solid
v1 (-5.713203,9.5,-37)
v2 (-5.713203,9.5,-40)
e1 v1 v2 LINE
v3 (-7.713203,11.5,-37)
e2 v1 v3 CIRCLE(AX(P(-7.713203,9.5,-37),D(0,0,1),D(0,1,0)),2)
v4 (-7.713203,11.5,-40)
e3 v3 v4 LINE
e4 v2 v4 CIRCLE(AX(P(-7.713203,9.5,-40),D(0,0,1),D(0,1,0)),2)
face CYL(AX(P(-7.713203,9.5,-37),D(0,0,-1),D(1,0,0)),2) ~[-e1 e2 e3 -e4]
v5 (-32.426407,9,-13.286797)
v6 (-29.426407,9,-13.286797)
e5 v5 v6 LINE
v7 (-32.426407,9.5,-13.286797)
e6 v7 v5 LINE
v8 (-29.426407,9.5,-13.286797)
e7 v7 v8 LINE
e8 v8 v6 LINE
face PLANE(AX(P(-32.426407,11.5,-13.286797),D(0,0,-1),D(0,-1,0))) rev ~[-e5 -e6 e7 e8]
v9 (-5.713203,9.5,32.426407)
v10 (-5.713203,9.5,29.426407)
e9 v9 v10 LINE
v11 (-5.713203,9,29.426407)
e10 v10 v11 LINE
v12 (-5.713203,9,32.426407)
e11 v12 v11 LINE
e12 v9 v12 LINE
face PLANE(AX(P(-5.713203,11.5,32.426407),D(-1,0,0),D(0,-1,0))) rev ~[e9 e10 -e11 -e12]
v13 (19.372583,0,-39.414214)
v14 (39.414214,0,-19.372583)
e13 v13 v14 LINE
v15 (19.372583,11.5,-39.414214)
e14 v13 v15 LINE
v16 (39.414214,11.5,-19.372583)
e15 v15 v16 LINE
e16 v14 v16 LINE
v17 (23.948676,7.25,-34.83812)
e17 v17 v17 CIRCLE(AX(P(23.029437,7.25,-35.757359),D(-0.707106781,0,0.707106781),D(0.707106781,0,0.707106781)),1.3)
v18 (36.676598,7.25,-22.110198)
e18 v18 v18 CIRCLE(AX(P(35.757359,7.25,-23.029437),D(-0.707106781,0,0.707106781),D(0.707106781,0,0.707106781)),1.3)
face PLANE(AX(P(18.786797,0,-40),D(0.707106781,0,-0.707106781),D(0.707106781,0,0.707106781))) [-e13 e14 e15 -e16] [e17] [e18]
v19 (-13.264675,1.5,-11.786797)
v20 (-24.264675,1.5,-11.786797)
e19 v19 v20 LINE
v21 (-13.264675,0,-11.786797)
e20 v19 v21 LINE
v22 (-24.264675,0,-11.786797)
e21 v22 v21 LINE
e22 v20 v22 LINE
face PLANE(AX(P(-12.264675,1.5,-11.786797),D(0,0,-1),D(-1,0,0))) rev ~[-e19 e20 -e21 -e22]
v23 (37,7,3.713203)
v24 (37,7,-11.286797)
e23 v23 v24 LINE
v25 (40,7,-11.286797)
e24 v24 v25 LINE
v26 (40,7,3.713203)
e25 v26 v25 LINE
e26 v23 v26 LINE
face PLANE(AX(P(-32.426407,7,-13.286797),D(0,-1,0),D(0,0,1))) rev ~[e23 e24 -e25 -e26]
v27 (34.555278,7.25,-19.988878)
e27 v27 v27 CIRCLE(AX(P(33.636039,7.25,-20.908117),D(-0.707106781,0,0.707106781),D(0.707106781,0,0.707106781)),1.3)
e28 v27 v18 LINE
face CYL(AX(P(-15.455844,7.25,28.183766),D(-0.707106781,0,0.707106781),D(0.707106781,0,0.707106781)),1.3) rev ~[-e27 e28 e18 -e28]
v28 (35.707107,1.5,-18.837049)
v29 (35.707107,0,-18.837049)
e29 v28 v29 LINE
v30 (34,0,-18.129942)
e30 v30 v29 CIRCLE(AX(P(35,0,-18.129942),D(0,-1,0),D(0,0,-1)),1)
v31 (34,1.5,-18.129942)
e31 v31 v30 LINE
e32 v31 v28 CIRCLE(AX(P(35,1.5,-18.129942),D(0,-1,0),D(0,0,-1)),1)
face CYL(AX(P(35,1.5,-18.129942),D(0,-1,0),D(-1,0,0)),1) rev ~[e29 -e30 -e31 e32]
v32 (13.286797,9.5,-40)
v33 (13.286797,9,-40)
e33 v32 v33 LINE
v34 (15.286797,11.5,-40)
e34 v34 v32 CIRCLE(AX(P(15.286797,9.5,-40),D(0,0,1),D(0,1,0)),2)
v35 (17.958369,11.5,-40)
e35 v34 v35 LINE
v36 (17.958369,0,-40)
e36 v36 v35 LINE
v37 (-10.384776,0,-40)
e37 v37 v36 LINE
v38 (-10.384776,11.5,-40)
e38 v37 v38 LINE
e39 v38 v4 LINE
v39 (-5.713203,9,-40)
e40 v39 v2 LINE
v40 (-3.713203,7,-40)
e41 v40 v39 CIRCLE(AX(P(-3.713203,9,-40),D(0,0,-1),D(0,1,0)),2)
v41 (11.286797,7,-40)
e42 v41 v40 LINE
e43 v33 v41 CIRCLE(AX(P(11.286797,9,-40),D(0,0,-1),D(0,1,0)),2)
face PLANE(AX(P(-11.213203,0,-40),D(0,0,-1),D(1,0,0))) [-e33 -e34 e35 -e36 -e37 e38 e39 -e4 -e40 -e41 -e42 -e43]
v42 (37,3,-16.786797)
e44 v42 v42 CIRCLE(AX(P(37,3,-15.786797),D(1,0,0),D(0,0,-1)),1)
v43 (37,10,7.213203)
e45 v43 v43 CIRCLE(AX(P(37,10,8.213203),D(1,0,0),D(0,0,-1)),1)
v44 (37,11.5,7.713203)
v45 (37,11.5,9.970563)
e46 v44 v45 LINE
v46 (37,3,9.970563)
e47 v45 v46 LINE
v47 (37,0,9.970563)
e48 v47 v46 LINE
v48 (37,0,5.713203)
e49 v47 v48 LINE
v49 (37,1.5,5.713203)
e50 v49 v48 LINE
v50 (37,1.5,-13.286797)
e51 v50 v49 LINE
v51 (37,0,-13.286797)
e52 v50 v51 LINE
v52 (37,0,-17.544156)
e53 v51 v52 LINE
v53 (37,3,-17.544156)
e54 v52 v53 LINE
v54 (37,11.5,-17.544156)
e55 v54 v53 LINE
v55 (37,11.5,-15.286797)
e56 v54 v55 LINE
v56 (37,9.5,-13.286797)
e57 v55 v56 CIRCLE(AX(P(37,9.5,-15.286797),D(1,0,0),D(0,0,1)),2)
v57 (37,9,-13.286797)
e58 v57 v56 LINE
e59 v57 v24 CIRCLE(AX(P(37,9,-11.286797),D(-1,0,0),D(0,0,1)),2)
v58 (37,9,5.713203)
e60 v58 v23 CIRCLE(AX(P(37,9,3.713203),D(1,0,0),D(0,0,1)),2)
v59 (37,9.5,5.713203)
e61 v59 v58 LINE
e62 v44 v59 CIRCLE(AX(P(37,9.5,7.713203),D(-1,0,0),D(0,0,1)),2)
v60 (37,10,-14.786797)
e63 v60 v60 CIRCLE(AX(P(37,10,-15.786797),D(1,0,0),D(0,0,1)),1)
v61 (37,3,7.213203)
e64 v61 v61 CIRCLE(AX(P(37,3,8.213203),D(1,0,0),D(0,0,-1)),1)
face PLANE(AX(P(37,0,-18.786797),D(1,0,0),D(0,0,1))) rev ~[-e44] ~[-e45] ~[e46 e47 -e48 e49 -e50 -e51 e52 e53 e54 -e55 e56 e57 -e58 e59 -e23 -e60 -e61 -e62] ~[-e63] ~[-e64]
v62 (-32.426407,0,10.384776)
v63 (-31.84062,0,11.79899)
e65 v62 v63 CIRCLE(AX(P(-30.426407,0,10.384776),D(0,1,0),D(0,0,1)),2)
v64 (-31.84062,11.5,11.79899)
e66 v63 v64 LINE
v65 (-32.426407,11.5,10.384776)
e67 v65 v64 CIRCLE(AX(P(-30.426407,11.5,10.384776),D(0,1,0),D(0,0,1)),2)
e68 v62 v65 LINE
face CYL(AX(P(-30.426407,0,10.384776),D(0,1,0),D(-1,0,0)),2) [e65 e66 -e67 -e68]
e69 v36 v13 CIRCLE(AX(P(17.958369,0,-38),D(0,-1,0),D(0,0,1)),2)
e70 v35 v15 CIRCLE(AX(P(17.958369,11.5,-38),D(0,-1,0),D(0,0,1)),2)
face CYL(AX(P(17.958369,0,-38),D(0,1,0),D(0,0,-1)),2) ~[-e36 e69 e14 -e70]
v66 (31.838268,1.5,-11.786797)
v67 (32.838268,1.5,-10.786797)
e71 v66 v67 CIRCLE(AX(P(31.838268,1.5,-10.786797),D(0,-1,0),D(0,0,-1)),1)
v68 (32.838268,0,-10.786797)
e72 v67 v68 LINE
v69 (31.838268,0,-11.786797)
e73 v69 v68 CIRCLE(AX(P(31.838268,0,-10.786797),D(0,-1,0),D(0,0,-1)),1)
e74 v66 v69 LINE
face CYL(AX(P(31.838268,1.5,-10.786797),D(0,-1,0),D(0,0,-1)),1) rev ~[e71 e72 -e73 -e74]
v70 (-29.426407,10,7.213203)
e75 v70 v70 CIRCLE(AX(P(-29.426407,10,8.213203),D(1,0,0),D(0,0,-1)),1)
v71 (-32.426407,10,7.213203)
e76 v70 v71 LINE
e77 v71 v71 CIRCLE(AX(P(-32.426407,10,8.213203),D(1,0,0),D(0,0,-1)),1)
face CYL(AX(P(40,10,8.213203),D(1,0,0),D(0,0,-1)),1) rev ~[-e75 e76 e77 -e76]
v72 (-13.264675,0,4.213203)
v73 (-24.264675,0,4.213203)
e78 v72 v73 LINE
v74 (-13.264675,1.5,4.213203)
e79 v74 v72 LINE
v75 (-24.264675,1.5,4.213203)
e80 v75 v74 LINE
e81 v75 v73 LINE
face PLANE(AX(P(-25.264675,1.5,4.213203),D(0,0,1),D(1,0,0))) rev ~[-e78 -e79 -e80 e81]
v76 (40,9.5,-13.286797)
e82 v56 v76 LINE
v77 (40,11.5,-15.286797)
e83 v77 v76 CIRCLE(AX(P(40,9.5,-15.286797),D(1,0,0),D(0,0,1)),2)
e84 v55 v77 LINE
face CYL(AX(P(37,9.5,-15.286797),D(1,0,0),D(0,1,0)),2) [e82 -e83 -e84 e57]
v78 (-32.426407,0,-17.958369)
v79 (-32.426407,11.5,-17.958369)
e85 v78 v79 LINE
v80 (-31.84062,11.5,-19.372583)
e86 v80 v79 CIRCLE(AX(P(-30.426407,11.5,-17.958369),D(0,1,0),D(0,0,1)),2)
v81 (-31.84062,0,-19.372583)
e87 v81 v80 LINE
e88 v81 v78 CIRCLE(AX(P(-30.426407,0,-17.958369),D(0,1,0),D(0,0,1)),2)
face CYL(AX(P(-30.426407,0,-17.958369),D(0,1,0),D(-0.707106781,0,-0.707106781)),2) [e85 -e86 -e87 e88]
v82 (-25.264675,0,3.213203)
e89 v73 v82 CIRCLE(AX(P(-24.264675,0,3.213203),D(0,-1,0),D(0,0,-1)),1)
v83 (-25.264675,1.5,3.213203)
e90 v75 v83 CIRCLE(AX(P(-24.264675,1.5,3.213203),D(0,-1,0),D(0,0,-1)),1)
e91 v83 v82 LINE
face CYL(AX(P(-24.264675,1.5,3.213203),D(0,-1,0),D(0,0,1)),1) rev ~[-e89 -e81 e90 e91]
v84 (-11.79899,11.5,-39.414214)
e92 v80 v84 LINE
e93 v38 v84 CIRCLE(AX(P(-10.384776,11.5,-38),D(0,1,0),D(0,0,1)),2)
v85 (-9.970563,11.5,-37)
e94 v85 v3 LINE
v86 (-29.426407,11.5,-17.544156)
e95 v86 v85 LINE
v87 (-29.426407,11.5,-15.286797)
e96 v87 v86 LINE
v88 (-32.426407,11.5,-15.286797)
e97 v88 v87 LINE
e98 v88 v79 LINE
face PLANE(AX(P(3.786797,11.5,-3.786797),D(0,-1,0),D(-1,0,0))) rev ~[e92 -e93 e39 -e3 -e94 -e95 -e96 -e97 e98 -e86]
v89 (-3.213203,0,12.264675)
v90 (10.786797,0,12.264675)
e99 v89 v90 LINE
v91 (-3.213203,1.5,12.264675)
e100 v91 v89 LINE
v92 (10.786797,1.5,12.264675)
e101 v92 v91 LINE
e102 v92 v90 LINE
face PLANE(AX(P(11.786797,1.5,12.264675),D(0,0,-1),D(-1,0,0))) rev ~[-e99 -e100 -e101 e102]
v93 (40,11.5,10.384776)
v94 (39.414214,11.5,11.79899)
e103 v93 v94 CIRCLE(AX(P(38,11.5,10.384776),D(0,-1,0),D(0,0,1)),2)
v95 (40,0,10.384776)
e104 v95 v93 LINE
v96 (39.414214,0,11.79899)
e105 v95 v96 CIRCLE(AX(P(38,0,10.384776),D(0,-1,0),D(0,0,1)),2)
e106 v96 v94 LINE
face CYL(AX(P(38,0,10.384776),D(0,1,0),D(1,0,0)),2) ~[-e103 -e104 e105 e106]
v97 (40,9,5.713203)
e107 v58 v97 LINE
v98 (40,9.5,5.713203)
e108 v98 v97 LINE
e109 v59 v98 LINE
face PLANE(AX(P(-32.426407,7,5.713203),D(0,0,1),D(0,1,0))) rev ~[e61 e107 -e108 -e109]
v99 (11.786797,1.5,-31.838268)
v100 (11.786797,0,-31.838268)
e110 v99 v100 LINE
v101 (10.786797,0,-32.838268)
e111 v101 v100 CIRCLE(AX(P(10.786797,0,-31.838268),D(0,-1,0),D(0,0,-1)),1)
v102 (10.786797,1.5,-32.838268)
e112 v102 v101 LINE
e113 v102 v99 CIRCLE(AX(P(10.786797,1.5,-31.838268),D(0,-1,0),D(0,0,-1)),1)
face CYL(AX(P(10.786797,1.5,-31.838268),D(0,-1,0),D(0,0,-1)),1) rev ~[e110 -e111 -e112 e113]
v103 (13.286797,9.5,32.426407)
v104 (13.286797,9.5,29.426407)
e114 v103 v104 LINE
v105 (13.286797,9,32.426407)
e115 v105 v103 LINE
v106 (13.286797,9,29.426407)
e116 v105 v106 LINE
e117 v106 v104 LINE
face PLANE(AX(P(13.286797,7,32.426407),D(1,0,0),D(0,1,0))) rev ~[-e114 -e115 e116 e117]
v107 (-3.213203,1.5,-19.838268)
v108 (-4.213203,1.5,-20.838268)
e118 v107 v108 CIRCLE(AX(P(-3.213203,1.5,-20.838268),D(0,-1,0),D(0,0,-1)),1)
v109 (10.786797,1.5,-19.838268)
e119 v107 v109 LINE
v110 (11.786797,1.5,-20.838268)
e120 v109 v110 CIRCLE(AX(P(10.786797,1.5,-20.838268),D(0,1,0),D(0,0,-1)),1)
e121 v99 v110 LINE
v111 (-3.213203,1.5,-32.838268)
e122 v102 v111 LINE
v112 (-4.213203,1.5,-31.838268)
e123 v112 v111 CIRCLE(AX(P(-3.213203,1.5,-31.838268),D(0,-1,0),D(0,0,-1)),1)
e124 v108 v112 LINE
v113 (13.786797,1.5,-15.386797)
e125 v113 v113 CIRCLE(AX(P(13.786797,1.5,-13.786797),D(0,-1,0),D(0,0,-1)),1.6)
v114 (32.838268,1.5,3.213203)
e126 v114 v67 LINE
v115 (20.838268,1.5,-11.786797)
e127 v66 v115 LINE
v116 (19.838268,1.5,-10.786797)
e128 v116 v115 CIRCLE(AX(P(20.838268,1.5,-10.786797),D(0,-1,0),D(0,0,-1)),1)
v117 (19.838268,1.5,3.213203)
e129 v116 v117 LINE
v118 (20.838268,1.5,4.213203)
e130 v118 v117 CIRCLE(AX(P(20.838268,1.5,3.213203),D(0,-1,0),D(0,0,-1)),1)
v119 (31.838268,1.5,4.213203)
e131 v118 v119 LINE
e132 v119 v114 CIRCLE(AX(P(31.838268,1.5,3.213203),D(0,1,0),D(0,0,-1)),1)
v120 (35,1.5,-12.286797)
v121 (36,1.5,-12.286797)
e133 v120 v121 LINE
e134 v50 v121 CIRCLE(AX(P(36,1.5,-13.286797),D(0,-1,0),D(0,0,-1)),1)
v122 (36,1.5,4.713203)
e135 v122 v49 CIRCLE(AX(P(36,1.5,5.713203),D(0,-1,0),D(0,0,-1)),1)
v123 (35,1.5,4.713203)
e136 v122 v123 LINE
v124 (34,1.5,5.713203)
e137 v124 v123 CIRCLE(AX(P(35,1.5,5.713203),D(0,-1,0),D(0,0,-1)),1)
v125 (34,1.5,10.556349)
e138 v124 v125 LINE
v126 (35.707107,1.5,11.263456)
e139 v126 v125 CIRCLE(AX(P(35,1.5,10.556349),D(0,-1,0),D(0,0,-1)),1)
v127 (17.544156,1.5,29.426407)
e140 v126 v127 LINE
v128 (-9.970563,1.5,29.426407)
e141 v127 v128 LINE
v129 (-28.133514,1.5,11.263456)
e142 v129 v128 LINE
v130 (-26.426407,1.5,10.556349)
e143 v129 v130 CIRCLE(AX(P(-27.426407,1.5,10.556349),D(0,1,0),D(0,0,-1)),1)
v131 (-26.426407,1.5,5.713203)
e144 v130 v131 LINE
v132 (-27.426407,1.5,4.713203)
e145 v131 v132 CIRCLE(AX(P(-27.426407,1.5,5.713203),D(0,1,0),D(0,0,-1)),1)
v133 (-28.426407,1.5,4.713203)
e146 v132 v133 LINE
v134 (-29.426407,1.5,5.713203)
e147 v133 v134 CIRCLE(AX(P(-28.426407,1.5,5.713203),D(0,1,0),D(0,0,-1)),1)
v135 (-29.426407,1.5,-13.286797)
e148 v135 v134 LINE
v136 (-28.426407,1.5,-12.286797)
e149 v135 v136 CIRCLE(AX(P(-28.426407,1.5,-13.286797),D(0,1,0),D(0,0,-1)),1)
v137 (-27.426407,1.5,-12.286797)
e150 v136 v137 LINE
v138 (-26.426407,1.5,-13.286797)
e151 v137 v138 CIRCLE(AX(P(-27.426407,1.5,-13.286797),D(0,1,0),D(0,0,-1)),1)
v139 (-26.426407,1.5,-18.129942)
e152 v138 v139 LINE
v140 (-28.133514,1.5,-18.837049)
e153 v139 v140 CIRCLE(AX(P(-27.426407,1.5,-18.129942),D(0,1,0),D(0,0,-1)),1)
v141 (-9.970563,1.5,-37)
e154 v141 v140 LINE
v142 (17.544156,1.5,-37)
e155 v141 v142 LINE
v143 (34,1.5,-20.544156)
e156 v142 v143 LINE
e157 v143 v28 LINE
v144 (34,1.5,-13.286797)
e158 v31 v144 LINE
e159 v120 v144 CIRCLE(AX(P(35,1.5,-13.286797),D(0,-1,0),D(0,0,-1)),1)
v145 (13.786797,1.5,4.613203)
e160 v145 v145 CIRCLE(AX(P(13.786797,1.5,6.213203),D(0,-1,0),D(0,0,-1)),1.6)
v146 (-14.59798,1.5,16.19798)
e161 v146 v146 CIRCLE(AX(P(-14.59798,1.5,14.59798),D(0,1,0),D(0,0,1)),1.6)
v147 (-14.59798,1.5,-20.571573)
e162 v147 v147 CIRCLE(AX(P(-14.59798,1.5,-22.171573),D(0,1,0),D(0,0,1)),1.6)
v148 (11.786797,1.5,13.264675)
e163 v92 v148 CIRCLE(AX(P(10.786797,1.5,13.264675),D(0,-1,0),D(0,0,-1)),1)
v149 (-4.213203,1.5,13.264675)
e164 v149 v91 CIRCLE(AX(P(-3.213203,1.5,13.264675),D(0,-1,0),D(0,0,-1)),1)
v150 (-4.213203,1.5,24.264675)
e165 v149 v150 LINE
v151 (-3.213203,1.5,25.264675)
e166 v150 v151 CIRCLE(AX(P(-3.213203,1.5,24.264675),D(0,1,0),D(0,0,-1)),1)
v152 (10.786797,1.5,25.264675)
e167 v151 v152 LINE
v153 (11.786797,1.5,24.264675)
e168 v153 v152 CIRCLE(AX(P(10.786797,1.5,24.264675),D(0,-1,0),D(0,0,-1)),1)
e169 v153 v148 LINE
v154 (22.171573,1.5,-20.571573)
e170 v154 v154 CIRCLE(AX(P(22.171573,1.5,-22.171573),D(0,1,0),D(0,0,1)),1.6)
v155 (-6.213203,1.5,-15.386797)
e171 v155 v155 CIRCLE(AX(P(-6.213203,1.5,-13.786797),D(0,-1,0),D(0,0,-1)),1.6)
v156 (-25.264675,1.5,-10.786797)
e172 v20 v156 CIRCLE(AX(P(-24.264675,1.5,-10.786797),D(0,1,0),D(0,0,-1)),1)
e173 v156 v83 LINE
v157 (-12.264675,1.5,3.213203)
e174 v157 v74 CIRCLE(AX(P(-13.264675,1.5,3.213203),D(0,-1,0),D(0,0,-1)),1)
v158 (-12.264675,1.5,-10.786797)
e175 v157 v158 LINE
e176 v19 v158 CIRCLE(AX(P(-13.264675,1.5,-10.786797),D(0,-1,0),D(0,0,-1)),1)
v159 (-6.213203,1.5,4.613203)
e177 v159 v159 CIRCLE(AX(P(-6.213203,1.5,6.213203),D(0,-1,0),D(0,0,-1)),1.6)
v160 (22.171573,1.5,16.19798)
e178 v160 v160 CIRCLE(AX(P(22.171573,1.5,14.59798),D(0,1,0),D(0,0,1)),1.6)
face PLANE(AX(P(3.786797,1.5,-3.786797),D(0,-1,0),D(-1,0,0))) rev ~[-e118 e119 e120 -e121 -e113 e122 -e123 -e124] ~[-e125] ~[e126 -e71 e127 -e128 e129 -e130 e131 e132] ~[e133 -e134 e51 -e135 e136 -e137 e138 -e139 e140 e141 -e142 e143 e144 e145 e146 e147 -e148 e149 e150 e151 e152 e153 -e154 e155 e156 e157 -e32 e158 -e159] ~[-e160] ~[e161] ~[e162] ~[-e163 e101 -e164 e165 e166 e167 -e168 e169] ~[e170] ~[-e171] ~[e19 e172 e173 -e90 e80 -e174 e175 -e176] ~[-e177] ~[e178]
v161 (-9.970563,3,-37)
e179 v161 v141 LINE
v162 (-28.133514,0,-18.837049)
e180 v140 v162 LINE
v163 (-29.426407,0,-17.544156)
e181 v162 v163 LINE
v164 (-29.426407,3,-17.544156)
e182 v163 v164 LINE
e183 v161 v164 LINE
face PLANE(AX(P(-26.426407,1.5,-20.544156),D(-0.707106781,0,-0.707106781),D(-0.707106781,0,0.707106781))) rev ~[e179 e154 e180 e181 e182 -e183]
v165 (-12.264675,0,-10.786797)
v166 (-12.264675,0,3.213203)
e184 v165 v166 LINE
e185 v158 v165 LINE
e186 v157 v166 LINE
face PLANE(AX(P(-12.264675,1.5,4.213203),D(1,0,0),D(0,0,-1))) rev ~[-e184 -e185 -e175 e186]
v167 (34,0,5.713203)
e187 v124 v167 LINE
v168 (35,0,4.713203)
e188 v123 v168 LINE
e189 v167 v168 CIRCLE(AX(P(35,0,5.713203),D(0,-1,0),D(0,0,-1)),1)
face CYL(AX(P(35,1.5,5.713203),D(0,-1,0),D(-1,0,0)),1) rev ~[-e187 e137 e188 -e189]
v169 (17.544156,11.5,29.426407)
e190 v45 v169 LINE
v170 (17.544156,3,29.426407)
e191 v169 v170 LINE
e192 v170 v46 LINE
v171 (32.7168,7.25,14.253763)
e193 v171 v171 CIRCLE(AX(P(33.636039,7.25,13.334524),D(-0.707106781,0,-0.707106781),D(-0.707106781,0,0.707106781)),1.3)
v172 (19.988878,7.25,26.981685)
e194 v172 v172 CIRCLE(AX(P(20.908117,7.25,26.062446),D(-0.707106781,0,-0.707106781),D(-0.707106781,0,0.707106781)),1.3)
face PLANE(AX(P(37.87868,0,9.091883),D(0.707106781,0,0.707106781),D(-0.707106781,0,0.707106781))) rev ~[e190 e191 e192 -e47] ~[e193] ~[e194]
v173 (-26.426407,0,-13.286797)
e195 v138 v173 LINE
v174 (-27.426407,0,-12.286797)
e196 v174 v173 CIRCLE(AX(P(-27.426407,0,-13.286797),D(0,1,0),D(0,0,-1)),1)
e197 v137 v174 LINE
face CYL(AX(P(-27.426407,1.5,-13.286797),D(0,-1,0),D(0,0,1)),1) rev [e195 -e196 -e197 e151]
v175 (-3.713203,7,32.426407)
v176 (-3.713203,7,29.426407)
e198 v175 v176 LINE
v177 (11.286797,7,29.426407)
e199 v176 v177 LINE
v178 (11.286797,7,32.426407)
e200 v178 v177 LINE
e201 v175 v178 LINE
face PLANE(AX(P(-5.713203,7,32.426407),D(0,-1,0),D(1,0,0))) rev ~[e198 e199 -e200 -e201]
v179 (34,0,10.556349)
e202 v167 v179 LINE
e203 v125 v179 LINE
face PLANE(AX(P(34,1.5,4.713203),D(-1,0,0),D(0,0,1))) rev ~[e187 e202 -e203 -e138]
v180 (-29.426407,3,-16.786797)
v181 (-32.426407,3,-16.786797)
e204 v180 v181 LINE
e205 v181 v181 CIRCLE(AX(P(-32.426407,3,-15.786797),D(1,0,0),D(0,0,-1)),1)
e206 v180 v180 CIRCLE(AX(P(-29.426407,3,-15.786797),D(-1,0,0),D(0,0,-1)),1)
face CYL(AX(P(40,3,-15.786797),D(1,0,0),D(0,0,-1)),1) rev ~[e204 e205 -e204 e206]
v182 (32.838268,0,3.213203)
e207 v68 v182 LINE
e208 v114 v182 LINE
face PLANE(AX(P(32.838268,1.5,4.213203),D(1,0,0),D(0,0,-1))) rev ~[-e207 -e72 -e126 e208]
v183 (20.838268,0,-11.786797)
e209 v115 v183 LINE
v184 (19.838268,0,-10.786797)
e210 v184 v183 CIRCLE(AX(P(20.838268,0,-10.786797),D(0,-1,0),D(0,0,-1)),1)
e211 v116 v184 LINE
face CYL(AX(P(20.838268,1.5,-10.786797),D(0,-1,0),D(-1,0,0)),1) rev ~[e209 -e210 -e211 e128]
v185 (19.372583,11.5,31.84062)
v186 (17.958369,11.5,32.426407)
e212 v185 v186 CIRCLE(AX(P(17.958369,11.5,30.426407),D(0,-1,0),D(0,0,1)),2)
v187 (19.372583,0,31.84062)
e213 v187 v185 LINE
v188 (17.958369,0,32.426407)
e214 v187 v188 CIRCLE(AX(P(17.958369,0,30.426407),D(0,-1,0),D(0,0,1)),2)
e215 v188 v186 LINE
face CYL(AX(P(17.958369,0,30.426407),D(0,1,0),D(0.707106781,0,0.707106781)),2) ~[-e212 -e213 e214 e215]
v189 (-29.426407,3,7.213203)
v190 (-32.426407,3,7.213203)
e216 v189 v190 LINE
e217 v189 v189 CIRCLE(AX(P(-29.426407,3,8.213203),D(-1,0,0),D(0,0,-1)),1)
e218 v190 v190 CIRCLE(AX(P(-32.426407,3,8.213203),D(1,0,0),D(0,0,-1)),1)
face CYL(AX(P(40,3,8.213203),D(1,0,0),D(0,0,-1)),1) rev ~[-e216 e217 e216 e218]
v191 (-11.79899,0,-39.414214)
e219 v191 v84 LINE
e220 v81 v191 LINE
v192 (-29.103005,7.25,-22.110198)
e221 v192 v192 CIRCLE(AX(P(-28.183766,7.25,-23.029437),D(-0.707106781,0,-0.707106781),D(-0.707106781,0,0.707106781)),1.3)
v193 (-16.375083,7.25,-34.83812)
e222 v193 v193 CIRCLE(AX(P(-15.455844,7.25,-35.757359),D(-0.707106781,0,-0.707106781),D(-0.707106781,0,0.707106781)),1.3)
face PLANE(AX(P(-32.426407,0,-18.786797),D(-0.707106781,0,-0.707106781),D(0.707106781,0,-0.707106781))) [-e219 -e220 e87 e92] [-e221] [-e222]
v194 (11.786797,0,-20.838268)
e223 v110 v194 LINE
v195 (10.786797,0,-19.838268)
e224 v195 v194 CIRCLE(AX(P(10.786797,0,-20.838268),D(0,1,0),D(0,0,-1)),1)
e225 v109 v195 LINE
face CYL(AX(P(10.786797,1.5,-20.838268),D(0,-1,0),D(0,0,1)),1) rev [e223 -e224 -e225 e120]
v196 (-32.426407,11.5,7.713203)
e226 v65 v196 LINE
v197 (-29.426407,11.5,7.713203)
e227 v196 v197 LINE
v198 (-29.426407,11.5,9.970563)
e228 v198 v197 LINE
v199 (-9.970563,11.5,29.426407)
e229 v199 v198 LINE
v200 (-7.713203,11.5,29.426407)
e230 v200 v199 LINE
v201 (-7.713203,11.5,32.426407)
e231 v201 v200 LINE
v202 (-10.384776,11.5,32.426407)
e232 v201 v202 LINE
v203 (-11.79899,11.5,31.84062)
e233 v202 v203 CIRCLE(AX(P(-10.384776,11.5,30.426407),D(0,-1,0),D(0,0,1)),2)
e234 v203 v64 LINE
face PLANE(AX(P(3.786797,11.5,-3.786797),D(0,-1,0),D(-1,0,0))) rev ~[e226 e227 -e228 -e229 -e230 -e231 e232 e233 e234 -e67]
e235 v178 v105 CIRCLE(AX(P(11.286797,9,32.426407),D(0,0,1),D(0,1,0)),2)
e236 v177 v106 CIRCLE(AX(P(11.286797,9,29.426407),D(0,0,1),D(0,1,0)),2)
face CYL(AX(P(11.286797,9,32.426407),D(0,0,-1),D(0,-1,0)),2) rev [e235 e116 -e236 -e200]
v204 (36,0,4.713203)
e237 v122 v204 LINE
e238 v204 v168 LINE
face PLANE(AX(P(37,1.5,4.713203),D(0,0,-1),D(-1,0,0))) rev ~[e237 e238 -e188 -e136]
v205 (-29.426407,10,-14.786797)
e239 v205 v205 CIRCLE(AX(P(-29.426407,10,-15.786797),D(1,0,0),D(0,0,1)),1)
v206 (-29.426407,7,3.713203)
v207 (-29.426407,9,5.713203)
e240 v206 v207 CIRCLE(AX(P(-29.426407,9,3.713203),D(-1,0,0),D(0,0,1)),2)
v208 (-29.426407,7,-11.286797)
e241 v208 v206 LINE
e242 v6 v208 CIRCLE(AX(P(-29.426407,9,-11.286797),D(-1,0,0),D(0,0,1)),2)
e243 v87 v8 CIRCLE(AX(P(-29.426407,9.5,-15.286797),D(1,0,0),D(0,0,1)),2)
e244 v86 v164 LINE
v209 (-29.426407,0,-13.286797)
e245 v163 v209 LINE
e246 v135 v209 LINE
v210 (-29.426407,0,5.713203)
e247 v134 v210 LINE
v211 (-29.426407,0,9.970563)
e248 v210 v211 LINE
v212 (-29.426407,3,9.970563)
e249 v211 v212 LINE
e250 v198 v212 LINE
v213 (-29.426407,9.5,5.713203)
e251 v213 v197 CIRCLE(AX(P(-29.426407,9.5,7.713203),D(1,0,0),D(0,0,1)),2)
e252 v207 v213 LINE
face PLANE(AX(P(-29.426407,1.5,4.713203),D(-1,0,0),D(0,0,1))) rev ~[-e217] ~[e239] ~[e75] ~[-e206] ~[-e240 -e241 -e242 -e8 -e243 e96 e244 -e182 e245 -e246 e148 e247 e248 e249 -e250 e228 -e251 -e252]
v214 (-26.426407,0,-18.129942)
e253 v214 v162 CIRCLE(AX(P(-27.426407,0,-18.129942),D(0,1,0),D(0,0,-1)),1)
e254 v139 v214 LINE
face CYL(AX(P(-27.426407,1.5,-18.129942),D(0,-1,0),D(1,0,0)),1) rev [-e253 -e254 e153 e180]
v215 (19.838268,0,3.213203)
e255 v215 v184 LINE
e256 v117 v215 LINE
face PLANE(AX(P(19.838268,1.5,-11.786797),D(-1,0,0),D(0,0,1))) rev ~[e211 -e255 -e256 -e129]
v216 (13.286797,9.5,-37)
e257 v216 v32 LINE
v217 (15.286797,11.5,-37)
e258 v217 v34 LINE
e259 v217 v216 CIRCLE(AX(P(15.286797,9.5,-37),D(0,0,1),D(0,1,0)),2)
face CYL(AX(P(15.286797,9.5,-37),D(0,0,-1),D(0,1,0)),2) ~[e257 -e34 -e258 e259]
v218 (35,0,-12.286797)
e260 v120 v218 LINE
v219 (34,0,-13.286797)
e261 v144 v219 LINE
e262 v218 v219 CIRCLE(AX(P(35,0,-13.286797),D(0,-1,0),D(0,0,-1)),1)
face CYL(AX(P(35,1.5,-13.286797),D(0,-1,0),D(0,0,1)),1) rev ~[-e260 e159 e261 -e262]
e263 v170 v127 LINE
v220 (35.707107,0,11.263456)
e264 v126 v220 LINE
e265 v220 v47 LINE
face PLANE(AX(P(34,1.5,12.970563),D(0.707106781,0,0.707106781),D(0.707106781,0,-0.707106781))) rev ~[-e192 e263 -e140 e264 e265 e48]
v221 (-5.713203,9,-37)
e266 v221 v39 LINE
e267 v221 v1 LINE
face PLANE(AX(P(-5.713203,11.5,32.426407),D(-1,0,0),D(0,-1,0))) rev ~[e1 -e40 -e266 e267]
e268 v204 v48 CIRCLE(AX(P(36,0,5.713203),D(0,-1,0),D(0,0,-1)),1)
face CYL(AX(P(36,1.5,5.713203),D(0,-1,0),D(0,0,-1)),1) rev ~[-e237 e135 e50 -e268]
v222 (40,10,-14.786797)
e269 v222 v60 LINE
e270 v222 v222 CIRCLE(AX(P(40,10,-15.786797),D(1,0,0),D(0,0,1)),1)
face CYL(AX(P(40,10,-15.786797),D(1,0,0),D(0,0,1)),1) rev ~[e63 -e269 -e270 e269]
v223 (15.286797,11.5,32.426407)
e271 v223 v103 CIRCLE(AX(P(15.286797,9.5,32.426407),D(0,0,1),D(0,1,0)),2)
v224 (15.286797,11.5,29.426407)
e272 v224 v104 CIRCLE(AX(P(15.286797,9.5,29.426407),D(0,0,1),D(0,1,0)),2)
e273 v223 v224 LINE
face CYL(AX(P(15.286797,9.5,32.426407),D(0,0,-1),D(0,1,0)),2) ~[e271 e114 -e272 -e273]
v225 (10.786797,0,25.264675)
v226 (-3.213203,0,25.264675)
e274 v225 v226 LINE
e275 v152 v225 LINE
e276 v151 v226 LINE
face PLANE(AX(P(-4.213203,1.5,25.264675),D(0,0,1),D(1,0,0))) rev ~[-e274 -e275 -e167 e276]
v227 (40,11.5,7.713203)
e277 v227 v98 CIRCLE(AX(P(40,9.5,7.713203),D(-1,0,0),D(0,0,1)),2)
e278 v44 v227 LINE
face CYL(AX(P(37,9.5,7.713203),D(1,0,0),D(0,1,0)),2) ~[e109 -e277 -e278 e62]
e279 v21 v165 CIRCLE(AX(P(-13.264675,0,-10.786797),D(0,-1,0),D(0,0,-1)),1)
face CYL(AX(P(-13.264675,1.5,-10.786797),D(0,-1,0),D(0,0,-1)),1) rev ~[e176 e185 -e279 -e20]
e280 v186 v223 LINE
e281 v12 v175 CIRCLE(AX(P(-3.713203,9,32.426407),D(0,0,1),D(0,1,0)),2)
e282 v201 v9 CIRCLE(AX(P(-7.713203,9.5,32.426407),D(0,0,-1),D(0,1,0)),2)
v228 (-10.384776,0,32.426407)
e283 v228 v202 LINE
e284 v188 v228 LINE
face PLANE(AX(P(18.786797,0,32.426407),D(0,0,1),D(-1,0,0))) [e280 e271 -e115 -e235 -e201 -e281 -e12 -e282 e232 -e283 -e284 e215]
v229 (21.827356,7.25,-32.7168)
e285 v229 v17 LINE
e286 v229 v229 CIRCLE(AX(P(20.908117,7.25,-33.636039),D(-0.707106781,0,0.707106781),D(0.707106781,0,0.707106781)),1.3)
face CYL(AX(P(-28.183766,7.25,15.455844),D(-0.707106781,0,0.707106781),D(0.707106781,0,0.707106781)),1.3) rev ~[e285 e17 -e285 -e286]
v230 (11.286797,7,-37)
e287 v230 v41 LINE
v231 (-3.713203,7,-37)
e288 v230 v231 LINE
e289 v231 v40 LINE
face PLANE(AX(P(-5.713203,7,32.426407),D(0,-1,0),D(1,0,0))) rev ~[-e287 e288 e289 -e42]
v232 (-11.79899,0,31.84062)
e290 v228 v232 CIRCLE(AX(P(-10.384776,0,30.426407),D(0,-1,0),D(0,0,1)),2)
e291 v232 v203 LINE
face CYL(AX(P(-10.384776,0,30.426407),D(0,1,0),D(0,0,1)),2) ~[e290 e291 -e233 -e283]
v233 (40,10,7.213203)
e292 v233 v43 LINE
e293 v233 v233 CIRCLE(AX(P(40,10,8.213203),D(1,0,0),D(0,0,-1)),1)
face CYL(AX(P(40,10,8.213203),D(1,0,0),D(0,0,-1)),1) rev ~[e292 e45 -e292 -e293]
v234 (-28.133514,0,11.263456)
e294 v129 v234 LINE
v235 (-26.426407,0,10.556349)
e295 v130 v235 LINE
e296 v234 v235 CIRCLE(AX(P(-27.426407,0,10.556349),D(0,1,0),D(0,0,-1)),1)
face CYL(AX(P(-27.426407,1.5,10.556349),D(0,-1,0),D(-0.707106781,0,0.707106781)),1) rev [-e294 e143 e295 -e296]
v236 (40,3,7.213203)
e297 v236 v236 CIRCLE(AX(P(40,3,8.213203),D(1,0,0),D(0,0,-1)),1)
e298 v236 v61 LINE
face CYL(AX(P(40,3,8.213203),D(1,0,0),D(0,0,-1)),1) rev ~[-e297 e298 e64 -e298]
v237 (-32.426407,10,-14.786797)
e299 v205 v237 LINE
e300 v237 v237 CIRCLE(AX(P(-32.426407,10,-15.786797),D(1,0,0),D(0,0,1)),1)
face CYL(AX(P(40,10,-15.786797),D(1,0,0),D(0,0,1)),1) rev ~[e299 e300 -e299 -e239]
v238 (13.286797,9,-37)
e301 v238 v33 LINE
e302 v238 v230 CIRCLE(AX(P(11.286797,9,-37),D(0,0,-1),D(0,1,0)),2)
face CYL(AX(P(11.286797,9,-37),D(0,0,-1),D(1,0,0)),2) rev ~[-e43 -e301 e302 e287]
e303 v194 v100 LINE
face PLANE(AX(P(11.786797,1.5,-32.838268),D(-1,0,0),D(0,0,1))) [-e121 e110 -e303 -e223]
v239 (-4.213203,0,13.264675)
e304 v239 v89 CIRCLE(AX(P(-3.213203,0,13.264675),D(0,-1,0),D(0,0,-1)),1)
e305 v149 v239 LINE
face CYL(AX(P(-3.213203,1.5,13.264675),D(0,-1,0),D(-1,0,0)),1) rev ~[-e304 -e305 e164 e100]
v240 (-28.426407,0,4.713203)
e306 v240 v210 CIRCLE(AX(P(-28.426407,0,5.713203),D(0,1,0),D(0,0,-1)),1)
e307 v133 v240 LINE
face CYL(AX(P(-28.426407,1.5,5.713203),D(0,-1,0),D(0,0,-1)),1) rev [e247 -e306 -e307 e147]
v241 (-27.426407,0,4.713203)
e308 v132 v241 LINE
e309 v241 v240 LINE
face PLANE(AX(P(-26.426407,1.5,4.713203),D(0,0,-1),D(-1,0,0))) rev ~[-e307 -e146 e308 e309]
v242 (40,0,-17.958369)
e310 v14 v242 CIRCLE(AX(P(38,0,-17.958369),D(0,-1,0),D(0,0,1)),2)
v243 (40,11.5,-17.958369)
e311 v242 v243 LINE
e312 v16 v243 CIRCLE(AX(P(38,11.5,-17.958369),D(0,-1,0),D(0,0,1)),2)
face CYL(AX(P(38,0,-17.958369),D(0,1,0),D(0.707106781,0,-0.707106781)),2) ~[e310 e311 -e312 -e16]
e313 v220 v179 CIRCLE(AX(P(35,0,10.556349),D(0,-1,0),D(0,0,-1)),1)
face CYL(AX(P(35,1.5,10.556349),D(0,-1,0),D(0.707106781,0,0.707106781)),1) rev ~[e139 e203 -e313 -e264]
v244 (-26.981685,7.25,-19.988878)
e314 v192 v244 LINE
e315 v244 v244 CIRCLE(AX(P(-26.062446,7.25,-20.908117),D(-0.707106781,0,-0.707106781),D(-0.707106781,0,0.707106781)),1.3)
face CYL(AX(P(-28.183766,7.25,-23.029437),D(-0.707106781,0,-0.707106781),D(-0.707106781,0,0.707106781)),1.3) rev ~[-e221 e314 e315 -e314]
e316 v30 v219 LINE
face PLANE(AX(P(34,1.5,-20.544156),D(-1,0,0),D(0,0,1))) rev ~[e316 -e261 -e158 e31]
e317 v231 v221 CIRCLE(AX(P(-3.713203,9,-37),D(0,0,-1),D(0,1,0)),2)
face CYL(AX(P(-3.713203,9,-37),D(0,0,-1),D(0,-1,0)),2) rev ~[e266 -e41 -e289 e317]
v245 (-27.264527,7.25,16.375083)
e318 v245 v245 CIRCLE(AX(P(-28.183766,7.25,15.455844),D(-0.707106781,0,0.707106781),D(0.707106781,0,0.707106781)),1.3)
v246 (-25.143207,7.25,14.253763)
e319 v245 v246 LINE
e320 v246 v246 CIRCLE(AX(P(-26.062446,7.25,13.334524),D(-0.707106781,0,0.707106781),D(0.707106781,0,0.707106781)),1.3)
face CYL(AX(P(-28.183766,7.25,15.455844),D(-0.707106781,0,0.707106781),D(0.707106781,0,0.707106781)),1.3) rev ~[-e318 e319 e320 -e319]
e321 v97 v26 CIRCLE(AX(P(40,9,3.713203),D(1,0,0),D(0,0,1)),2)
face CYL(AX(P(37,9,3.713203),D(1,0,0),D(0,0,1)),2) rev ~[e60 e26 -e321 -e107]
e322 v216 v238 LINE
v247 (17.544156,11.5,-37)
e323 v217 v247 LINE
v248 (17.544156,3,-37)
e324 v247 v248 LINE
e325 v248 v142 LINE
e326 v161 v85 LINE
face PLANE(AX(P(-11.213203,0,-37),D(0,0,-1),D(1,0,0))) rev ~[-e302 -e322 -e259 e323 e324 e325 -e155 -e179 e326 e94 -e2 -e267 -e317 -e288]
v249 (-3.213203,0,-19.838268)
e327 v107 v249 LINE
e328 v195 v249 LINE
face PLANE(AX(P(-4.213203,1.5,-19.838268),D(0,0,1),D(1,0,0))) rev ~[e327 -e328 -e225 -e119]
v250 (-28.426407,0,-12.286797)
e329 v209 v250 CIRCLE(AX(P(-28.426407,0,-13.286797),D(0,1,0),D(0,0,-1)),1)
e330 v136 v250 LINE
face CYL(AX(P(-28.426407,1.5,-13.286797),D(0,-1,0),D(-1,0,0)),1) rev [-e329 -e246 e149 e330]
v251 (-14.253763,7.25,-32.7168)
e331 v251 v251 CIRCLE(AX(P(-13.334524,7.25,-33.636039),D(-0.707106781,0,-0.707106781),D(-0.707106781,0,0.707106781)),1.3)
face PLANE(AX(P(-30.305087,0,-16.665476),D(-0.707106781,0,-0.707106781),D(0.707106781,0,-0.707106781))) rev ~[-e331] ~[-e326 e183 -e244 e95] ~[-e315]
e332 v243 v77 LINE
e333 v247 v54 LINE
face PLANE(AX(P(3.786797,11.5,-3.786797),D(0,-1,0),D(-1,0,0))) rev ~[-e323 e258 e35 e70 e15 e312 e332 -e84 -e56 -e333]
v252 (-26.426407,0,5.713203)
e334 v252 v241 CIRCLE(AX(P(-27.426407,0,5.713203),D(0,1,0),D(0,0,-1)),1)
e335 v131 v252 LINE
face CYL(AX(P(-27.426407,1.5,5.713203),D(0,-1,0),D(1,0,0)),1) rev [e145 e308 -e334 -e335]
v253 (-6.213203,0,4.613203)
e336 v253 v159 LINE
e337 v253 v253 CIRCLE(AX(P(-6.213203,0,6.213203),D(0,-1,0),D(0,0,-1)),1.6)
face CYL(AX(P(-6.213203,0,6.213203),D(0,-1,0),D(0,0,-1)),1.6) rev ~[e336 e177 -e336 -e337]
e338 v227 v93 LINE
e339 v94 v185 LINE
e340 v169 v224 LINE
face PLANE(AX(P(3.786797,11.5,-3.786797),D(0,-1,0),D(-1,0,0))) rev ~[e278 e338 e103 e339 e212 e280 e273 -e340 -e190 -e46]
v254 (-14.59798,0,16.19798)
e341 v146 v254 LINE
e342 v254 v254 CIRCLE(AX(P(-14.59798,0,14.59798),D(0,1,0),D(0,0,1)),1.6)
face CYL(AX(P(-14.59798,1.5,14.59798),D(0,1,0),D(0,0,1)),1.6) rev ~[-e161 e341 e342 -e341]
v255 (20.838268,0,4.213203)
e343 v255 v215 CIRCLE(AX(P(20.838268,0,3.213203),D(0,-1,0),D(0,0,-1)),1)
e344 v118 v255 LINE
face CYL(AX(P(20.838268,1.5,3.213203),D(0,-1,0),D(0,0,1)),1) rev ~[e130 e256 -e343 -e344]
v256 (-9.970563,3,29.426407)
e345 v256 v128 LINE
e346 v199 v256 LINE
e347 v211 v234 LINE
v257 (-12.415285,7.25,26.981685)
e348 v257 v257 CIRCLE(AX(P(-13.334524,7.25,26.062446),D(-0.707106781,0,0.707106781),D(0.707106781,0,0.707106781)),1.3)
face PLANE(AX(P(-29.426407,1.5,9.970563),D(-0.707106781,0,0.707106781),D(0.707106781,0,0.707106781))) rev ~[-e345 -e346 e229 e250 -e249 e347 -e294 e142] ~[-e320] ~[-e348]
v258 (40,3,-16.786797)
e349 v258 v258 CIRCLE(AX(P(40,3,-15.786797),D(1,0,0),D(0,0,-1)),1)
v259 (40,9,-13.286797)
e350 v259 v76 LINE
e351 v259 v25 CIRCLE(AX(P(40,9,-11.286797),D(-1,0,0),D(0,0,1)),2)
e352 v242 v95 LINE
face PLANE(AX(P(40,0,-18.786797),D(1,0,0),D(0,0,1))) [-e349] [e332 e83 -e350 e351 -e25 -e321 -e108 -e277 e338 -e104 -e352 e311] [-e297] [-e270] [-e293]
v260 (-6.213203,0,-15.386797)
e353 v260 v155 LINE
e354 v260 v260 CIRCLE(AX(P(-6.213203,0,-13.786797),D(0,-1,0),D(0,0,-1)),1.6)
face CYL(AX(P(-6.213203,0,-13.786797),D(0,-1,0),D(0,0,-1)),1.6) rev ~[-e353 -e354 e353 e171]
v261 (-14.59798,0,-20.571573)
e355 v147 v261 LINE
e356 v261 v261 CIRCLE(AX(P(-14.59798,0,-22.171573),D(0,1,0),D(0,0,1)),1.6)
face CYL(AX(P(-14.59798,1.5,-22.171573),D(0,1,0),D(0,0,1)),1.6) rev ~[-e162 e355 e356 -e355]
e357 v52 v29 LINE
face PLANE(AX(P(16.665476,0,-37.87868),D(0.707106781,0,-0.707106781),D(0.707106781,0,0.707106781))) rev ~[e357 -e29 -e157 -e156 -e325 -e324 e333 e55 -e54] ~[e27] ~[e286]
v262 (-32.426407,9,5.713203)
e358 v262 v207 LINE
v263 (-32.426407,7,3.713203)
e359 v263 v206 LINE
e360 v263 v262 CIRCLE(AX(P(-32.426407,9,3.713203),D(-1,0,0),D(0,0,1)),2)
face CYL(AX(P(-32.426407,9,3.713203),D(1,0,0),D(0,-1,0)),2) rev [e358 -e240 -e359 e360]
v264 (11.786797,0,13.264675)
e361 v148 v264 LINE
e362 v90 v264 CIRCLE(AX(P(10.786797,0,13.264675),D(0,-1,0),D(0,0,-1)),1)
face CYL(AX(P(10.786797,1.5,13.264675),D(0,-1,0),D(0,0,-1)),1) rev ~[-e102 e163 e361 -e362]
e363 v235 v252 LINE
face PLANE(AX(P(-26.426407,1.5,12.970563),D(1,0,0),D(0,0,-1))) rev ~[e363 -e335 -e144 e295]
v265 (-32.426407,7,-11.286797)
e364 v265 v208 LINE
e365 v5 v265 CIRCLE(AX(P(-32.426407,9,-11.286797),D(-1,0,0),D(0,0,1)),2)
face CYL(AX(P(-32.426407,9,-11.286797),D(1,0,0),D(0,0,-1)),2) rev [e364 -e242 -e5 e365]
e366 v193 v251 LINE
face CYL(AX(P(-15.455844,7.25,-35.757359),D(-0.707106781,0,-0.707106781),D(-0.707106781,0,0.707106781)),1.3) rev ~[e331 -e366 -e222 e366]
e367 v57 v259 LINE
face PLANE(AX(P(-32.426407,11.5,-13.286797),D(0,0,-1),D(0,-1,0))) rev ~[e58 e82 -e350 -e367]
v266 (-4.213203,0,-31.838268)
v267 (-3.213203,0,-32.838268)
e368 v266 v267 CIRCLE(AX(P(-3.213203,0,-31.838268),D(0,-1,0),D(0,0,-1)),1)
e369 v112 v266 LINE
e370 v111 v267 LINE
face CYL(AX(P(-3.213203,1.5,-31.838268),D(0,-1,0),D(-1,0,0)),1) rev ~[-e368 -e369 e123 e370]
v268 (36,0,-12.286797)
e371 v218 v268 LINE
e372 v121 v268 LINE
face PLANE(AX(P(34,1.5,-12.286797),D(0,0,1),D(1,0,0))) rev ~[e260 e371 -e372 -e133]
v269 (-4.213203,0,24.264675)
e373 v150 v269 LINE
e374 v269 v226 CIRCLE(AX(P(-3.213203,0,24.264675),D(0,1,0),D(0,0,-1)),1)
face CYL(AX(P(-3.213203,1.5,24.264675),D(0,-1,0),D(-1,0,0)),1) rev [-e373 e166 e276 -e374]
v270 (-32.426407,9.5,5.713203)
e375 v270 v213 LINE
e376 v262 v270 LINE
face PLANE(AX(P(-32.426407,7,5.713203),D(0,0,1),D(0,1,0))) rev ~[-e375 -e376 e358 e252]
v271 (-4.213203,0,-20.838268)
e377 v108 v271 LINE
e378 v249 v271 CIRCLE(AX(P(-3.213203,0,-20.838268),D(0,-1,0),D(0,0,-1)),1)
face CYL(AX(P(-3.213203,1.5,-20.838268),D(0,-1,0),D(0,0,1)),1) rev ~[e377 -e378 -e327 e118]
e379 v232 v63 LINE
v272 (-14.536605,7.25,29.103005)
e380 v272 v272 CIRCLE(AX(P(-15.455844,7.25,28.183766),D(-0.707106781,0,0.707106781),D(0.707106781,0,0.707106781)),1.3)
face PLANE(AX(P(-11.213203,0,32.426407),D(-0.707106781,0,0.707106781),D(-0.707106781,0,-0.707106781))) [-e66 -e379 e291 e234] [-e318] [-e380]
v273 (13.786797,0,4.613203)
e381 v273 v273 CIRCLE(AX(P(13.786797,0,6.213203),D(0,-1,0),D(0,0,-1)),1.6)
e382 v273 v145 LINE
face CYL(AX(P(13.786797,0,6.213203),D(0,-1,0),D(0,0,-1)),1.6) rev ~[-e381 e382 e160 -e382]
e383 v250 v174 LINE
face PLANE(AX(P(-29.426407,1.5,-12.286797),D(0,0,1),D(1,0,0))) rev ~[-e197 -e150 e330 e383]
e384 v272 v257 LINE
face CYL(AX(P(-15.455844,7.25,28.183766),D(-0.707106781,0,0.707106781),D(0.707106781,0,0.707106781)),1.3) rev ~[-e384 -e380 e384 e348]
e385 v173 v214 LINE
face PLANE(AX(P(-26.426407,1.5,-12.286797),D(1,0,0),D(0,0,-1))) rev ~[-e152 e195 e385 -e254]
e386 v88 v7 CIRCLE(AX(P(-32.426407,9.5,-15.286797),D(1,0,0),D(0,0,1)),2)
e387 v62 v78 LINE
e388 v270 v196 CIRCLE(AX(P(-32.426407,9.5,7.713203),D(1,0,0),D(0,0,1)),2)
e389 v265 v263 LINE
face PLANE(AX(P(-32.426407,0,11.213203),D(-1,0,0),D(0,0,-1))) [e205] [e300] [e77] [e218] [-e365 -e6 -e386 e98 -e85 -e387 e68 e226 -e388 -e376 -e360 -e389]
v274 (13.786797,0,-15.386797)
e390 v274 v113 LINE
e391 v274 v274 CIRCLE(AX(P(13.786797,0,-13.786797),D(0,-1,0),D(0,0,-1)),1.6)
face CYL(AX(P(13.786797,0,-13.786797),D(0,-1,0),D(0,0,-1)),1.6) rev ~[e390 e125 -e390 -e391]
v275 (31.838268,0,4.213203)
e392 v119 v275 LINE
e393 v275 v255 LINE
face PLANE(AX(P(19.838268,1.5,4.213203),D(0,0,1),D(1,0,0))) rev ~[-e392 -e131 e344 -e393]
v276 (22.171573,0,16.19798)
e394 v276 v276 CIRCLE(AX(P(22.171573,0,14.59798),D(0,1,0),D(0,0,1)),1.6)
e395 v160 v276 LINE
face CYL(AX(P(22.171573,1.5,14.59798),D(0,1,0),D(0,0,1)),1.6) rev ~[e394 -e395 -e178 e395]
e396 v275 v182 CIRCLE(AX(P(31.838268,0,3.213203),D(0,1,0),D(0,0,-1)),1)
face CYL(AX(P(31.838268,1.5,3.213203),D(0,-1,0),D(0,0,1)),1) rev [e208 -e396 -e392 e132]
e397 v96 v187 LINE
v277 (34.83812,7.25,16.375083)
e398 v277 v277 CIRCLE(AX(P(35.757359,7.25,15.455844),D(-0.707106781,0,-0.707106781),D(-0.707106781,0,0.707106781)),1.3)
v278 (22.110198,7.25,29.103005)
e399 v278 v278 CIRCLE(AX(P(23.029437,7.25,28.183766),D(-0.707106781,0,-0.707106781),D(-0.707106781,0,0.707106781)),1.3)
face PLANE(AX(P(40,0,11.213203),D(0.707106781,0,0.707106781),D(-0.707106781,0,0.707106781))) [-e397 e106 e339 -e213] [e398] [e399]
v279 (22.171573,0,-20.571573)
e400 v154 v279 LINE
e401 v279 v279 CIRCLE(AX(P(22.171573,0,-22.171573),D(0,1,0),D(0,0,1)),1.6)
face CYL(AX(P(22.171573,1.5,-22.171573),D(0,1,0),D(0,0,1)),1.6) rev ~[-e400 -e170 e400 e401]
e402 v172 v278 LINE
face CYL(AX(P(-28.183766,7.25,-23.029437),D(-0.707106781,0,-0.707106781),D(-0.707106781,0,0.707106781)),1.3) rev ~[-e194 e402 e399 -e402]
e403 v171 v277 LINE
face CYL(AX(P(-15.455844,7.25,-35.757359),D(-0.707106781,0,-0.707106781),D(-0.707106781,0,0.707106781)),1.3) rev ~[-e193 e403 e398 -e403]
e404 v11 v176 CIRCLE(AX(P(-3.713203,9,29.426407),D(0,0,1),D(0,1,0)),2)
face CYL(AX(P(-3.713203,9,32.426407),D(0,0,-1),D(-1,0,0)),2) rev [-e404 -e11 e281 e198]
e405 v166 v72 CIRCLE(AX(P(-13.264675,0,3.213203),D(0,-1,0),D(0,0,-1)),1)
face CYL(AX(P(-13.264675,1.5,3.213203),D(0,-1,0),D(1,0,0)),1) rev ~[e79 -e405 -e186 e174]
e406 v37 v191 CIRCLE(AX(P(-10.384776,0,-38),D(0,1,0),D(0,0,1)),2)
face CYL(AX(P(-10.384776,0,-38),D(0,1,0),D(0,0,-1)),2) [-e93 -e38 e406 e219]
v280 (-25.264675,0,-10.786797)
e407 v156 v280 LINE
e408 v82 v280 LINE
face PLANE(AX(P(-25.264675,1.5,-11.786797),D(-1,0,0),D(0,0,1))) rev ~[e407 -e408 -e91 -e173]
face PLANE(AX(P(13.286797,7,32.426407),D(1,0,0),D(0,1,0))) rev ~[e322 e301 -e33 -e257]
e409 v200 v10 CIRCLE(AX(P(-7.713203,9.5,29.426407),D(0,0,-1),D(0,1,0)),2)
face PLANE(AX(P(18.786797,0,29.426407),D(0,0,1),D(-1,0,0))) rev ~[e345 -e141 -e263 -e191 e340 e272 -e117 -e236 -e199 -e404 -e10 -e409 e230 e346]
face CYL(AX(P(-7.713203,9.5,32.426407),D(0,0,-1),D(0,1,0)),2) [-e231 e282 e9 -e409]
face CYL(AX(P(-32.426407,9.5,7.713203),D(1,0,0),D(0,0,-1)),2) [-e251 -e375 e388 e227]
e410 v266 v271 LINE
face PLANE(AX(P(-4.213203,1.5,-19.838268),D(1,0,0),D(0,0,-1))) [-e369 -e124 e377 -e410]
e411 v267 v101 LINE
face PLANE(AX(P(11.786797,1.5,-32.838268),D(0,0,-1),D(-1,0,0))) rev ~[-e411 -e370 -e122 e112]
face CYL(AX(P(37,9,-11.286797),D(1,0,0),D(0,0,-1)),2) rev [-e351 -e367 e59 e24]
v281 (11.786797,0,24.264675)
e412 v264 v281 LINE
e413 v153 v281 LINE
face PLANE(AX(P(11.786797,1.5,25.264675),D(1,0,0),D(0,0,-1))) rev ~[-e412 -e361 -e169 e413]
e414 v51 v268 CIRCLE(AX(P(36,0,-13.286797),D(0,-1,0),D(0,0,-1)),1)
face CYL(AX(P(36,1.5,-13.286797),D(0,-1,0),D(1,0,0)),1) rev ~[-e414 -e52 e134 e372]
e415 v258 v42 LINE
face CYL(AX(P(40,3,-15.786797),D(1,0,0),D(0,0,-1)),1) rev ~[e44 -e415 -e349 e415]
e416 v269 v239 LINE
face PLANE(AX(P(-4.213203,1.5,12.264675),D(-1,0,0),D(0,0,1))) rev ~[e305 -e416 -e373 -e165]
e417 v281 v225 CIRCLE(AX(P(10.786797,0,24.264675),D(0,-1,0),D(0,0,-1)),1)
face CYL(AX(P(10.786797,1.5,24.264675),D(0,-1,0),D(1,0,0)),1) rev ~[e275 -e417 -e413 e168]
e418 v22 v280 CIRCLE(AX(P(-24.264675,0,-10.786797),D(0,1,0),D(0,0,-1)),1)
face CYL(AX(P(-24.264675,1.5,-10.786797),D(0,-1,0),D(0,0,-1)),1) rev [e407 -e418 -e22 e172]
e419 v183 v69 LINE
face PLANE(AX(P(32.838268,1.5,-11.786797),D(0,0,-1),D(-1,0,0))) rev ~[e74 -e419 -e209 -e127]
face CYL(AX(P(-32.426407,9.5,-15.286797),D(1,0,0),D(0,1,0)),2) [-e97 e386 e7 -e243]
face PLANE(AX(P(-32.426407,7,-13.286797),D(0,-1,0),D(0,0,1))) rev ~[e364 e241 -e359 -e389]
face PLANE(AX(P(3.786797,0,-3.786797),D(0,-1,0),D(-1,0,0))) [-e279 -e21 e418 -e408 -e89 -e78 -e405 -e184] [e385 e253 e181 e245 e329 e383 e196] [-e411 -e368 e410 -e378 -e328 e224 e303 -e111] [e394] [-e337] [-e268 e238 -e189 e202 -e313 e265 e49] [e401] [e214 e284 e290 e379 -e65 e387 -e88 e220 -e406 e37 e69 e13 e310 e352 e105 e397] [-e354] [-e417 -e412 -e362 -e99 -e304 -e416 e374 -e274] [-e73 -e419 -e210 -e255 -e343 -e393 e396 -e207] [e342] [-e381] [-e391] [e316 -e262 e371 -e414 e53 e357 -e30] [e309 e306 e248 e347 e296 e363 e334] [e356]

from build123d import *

# Parameters (mm, degrees)
BOSS_EXTRUDE1_DEPTH = 11.5
SHELL1_T            = -3
SKETCH3_R           = 1.3
CUT_EXTRUDE1_DEPTH  = 94
SKETCH4_R           = 1.3
CUT_EXTRUDE2_DEPTH  = 94
FILLET1_R           = 2
CUT_EXTRUDE3_DEPTH  = 79
CUT_EXTRUDE4_DEPTH  = 79
FILLET2_R           = 2
SKETCH7_R           = 1.6
CUT_EXTRUDE5_DEPTH  = 10
SKETCH8_R           = 1
CUT_EXTRUDE7_DEPTH  = 79
CUT_EXTRUDE8_DEPTH  = 1.5
CUT_EXTRUDE9_DEPTH  = 1.5
FILLET3_R           = 1
CUT_EXTRUDE10_DEPTH = 10
FILLET4_R           = 1
SKETCH14_R          = 1.6
CUT_EXTRUDE11_DEPTH = 10


with BuildPart() as part:
    # Sketch1 → Boss-Extrude1 (new body)
    with BuildSketch(Plane(origin=(0, 0, 0), x_dir=(1, 0, 0), z_dir=(0, 1, 0))):
        Polygon((-11.213203436, 40), (18.786796564, 40), (40, 18.786796564), (40, -11.213203436), (18.786796564, -32.426406871), (-11.213203436, -32.426406871), (-32.426406871, -11.213203436), (-32.426406871, 18.786796564), align=None)
    extrude(amount=BOSS_EXTRUDE1_DEPTH)

    # Shell1
    shell1_openings = [part.faces().sort_by_distance(p)[0] for p in [
        (3.786796564, 11.5, -3.786796564),
    ]]
    offset(amount=SHELL1_T, openings=shell1_openings, kind=Kind.INTERSECTION)

    # Sketch3 → Cut-Extrude1 (cut)
    with BuildSketch(Plane(origin=(-21.819805153, 0, 21.819805153), x_dir=(0.7071067811865558, 0, 0.7071067811865392), z_dir=(-0.7071067811865392, 0, 0.7071067811865558))):
        with Locations((-9, 7.25)):
            Circle(SKETCH3_R)
        with Locations((9, 7.25)):
            Circle(SKETCH3_R)
    extrude(amount=-CUT_EXTRUDE1_DEPTH, mode=Mode.SUBTRACT)

    # Sketch4 → Cut-Extrude2 (cut)
    with BuildSketch(Plane(origin=(-25.606601718, 0, -25.606601718), x_dir=(-0.7071067811865556, 0, 0.7071067811865396), z_dir=(-0.7071067811865396, 0, -0.7071067811865556))):
        with Locations((-14.355339059, 7.25)):
            Circle(SKETCH4_R)
        with Locations((3.644660941, 7.25)):
            Circle(SKETCH4_R)
    extrude(amount=-CUT_EXTRUDE2_DEPTH, mode=Mode.SUBTRACT)

    # Fillet1
    fillet1_edges = [part.edges().sort_by_distance(p)[0] for p in [
        (40, 5.75, -18.786796564),
        (40, 5.75, 11.213203436),
        (18.786796564, 5.75, 32.426406871),
        (-11.213203436, 5.75, 32.426406871),
        (-32.426406871, 5.75, 11.213203436),
        (-32.426406871, 5.75, -18.786796564),
        (-11.213203436, 5.75, -40),
        (18.786796564, 5.75, -40),
    ]]
    fillet(fillet1_edges, radius=FILLET1_R)

    # Sketch5 → Cut-Extrude3 (cut)
    with BuildSketch(Plane.XY.offset(32.426406871)):
        Polygon((3.786796564, 7), (13.286796564, 7), (13.286796564, 11.5), (-5.713203436, 11.5), (-5.713203436, 7), align=None)
    extrude(amount=-CUT_EXTRUDE3_DEPTH, mode=Mode.SUBTRACT)

    # Sketch6 → Cut-Extrude4 (cut)
    with BuildSketch(Plane.ZY.offset(32.426406871)):
        Polygon((-3.786796564, 7), (5.713203436, 7), (5.713203436, 11.5), (-13.286796564, 11.5), (-13.286796564, 7), align=None)
    extrude(amount=-CUT_EXTRUDE4_DEPTH, mode=Mode.SUBTRACT)

    # Fillet2
    fillet2_edges = [part.edges().sort_by_distance(p)[0] for p in [
        (-5.713203436, 7, -38.5),
        (-5.713203436, 11.5, -38.5),
        (13.286796564, 11.5, -38.5),
        (13.286796564, 7, -38.5),
        (-5.713203436, 7, 30.926406871),
        (-5.713203436, 11.5, 30.926406871),
        (13.286796564, 11.5, 30.926406871),
        (13.286796564, 7, 30.926406871),
        (38.5, 7, -13.286796564),
        (-30.926406871, 7, -13.286796564),
        (38.5, 11.5, -13.286796564),
        (-30.926406871, 11.5, -13.286796564),
        (38.5, 11.5, 5.713203436),
        (-30.926406871, 11.5, 5.713203436),
        (38.5, 7, 5.713203436),
        (-30.926406871, 7, 5.713203436),
    ]]
    fillet(fillet2_edges, radius=FILLET2_R)

    # Sketch7 → Cut-Extrude5 (cut)
    with BuildSketch(Plane(origin=(0, 0, 0), x_dir=(-1, 0, 0), z_dir=(0, -1, 0))):
        with Locations(Location((6.213203436, -6.213203436, 0), (0, 0, 90))):
            Circle(SKETCH7_R)
        with Locations(Location((-13.786796564, -6.213203436, 0), (0, 0, 90))):
            Circle(SKETCH7_R)
        with Locations(Location((-13.786796564, 13.786796564, 0), (0, 0, 90))):
            Circle(SKETCH7_R)
        with Locations(Location((6.213203436, 13.786796564, 0), (0, 0, 90))):
            Circle(SKETCH7_R)
    extrude(amount=-CUT_EXTRUDE5_DEPTH, mode=Mode.SUBTRACT)

    # Sketch8 → Cut-Extrude7 (cut)
    with BuildSketch(Plane(origin=(40, 0, 0), x_dir=(0, 0, -1), z_dir=(1, 0, 0))):
        with Locations((-8.213203436, 10)):
            Circle(SKETCH8_R)
        with Locations((-8.213203436, 3)):
            Circle(SKETCH8_R)
        with Locations((15.786796564, 3)):
            Circle(SKETCH8_R)
        with Locations(Location((15.786796564, 10, 0), (0, 0, 180))):
            Circle(SKETCH8_R)
    extrude(amount=-CUT_EXTRUDE7_DEPTH, mode=Mode.SUBTRACT)

    # Sketch10 → Cut-Extrude8 (cut)
    with BuildSketch(Plane(origin=(0, 3, 0), x_dir=(1, 0, 0), z_dir=(0, 1, 0))):
        Polygon((17.544155877, 37), (37, 17.544155877), (37, -9.970562748), (17.544155877, -29.426406871), (-9.970562748, -29.426406871), (-29.426406871, -9.970562748), (-29.426406871, 17.544155877), (-9.970562748, 37), align=None)
    extrude(amount=-CUT_EXTRUDE8_DEPTH, mode=Mode.SUBTRACT)

    # Sketch12 → Cut-Extrude9 (cut)
    with BuildSketch(Plane(origin=(0, 1.5, 0), x_dir=(1, 0, 0), z_dir=(0, 1, 0))):
        Polygon((-26.426406871, 20.544155877), (-29.426406871, 17.544155877), (-29.426406871, 12.286796564), (-26.426406871, 12.286796564), align=None)
        Polygon((-26.426406871, -4.713203436), (-29.426406871, -4.713203436), (-29.426406871, -9.970562748), (-26.426406871, -12.970562748), align=None)
        Polygon((34, 12.286796564), (37, 12.286796564), (37, 17.544155877), (34, 20.544155877), align=None)
        Polygon((37, -9.970562748), (37, -4.713203436), (34, -4.713203436), (34, -12.970562748), align=None)
    extrude(amount=-CUT_EXTRUDE9_DEPTH, mode=Mode.SUBTRACT)

    # Fillet3
    fillet3_edges = [part.edges().sort_by_distance(p)[0] for p in [
        (-26.426406871, 0.75, 4.713203436),
        (-26.426406871, 0.75, 12.970562748),
        (-29.426406871, 0.75, 4.713203436),
        (34, 0.75, -12.286796564),
        (34, 0.75, -20.544155877),
        (37, 0.75, -12.286796564),
        (37, 0.75, 4.713203436),
        (34, 0.75, 12.970562748),
        (34, 0.75, 4.713203436),
        (-29.426406871, 0.75, -12.286796564),
        (-26.426406871, 0.75, -20.544155877),
        (-26.426406871, 0.75, -12.286796564),
    ]]
    fillet(fillet3_edges, radius=FILLET3_R)

    # Sketch13 → Cut-Extrude10 (cut)
    with BuildSketch(Plane(origin=(0, 1.5, 0), x_dir=(1, 0, 0), z_dir=(0, 1, 0))):
        Polygon((3.786796564, 19.838268012), (-4.213203436, 19.838268012), (-4.213203436, 32.838268012), (2.581997553, 32.838268012), (11.786796564, 32.838268012), (11.786796564, 19.838268012), align=None)
        Polygon((19.838268012, 3.786796564), (19.838268012, -4.213203436), (32.838268012, -4.213203436), (32.838268012, 4.991595576), (32.838268012, 11.786796564), (19.838268012, 11.786796564), align=None)
        Polygon((3.786796564, -12.264674884), (-4.213203436, -12.264674884), (-4.213203436, -25.264674884), (4.991595576, -25.264674884), (11.786796564, -25.264674884), (11.786796564, -12.264674884), align=None)
        Polygon((-12.264674884, 3.786796564), (-12.264674884, 11.786796564), (-25.264674884, 11.786796564), (-25.264674884, 2.581997553), (-25.264674884, -4.213203436), (-12.264674884, -4.213203436), align=None)
    extrude(amount=-CUT_EXTRUDE10_DEPTH, mode=Mode.SUBTRACT)

    # Fillet4
    fillet4_edges = [part.edges().sort_by_distance(p)[0] for p in [
        (11.786796564, 0.75, -19.838268012),
        (-4.213203436, 0.75, -19.838268012),
        (-4.213203436, 0.75, -32.838268012),
        (11.786796564, 0.75, -32.838268012),
        (19.838268012, 0.75, -11.786796564),
        (32.838268012, 0.75, -11.786796564),
        (32.838268012, 0.75, 4.213203436),
        (19.838268012, 0.75, 4.213203436),
        (11.786796564, 0.75, 12.264674884),
        (11.786796564, 0.75, 25.264674884),
        (-4.213203436, 0.75, 25.264674884),
        (-4.213203436, 0.75, 12.264674884),
        (-12.264674884, 0.75, 4.213203436),
        (-25.264674884, 0.75, 4.213203436),
        (-25.264674884, 0.75, -11.786796564),
        (-12.264674884, 0.75, -11.786796564),
    ]]
    fillet(fillet4_edges, radius=FILLET4_R)

    # Sketch14 → Cut-Extrude11 (cut)
    with BuildSketch(Plane(origin=(0, 1.5, 0), x_dir=(1, 0, 0), z_dir=(0, 1, 0))):
        with Locations(Location((-14.597979746, 22.171572875, 0), (0, 0, 270))):
            Circle(SKETCH14_R)
        with Locations(Location((22.171572875, 22.171572875, 0), (0, 0, 270))):
            Circle(SKETCH14_R)
        with Locations(Location((-14.597979746, -14.597979746, 0), (0, 0, 270))):
            Circle(SKETCH14_R)
        with Locations(Location((22.171572875, -14.597979746, 0), (0, 0, 270))):
            Circle(SKETCH14_R)
    extrude(amount=-CUT_EXTRUDE11_DEPTH, mode=Mode.SUBTRACT)


solid = part.part
